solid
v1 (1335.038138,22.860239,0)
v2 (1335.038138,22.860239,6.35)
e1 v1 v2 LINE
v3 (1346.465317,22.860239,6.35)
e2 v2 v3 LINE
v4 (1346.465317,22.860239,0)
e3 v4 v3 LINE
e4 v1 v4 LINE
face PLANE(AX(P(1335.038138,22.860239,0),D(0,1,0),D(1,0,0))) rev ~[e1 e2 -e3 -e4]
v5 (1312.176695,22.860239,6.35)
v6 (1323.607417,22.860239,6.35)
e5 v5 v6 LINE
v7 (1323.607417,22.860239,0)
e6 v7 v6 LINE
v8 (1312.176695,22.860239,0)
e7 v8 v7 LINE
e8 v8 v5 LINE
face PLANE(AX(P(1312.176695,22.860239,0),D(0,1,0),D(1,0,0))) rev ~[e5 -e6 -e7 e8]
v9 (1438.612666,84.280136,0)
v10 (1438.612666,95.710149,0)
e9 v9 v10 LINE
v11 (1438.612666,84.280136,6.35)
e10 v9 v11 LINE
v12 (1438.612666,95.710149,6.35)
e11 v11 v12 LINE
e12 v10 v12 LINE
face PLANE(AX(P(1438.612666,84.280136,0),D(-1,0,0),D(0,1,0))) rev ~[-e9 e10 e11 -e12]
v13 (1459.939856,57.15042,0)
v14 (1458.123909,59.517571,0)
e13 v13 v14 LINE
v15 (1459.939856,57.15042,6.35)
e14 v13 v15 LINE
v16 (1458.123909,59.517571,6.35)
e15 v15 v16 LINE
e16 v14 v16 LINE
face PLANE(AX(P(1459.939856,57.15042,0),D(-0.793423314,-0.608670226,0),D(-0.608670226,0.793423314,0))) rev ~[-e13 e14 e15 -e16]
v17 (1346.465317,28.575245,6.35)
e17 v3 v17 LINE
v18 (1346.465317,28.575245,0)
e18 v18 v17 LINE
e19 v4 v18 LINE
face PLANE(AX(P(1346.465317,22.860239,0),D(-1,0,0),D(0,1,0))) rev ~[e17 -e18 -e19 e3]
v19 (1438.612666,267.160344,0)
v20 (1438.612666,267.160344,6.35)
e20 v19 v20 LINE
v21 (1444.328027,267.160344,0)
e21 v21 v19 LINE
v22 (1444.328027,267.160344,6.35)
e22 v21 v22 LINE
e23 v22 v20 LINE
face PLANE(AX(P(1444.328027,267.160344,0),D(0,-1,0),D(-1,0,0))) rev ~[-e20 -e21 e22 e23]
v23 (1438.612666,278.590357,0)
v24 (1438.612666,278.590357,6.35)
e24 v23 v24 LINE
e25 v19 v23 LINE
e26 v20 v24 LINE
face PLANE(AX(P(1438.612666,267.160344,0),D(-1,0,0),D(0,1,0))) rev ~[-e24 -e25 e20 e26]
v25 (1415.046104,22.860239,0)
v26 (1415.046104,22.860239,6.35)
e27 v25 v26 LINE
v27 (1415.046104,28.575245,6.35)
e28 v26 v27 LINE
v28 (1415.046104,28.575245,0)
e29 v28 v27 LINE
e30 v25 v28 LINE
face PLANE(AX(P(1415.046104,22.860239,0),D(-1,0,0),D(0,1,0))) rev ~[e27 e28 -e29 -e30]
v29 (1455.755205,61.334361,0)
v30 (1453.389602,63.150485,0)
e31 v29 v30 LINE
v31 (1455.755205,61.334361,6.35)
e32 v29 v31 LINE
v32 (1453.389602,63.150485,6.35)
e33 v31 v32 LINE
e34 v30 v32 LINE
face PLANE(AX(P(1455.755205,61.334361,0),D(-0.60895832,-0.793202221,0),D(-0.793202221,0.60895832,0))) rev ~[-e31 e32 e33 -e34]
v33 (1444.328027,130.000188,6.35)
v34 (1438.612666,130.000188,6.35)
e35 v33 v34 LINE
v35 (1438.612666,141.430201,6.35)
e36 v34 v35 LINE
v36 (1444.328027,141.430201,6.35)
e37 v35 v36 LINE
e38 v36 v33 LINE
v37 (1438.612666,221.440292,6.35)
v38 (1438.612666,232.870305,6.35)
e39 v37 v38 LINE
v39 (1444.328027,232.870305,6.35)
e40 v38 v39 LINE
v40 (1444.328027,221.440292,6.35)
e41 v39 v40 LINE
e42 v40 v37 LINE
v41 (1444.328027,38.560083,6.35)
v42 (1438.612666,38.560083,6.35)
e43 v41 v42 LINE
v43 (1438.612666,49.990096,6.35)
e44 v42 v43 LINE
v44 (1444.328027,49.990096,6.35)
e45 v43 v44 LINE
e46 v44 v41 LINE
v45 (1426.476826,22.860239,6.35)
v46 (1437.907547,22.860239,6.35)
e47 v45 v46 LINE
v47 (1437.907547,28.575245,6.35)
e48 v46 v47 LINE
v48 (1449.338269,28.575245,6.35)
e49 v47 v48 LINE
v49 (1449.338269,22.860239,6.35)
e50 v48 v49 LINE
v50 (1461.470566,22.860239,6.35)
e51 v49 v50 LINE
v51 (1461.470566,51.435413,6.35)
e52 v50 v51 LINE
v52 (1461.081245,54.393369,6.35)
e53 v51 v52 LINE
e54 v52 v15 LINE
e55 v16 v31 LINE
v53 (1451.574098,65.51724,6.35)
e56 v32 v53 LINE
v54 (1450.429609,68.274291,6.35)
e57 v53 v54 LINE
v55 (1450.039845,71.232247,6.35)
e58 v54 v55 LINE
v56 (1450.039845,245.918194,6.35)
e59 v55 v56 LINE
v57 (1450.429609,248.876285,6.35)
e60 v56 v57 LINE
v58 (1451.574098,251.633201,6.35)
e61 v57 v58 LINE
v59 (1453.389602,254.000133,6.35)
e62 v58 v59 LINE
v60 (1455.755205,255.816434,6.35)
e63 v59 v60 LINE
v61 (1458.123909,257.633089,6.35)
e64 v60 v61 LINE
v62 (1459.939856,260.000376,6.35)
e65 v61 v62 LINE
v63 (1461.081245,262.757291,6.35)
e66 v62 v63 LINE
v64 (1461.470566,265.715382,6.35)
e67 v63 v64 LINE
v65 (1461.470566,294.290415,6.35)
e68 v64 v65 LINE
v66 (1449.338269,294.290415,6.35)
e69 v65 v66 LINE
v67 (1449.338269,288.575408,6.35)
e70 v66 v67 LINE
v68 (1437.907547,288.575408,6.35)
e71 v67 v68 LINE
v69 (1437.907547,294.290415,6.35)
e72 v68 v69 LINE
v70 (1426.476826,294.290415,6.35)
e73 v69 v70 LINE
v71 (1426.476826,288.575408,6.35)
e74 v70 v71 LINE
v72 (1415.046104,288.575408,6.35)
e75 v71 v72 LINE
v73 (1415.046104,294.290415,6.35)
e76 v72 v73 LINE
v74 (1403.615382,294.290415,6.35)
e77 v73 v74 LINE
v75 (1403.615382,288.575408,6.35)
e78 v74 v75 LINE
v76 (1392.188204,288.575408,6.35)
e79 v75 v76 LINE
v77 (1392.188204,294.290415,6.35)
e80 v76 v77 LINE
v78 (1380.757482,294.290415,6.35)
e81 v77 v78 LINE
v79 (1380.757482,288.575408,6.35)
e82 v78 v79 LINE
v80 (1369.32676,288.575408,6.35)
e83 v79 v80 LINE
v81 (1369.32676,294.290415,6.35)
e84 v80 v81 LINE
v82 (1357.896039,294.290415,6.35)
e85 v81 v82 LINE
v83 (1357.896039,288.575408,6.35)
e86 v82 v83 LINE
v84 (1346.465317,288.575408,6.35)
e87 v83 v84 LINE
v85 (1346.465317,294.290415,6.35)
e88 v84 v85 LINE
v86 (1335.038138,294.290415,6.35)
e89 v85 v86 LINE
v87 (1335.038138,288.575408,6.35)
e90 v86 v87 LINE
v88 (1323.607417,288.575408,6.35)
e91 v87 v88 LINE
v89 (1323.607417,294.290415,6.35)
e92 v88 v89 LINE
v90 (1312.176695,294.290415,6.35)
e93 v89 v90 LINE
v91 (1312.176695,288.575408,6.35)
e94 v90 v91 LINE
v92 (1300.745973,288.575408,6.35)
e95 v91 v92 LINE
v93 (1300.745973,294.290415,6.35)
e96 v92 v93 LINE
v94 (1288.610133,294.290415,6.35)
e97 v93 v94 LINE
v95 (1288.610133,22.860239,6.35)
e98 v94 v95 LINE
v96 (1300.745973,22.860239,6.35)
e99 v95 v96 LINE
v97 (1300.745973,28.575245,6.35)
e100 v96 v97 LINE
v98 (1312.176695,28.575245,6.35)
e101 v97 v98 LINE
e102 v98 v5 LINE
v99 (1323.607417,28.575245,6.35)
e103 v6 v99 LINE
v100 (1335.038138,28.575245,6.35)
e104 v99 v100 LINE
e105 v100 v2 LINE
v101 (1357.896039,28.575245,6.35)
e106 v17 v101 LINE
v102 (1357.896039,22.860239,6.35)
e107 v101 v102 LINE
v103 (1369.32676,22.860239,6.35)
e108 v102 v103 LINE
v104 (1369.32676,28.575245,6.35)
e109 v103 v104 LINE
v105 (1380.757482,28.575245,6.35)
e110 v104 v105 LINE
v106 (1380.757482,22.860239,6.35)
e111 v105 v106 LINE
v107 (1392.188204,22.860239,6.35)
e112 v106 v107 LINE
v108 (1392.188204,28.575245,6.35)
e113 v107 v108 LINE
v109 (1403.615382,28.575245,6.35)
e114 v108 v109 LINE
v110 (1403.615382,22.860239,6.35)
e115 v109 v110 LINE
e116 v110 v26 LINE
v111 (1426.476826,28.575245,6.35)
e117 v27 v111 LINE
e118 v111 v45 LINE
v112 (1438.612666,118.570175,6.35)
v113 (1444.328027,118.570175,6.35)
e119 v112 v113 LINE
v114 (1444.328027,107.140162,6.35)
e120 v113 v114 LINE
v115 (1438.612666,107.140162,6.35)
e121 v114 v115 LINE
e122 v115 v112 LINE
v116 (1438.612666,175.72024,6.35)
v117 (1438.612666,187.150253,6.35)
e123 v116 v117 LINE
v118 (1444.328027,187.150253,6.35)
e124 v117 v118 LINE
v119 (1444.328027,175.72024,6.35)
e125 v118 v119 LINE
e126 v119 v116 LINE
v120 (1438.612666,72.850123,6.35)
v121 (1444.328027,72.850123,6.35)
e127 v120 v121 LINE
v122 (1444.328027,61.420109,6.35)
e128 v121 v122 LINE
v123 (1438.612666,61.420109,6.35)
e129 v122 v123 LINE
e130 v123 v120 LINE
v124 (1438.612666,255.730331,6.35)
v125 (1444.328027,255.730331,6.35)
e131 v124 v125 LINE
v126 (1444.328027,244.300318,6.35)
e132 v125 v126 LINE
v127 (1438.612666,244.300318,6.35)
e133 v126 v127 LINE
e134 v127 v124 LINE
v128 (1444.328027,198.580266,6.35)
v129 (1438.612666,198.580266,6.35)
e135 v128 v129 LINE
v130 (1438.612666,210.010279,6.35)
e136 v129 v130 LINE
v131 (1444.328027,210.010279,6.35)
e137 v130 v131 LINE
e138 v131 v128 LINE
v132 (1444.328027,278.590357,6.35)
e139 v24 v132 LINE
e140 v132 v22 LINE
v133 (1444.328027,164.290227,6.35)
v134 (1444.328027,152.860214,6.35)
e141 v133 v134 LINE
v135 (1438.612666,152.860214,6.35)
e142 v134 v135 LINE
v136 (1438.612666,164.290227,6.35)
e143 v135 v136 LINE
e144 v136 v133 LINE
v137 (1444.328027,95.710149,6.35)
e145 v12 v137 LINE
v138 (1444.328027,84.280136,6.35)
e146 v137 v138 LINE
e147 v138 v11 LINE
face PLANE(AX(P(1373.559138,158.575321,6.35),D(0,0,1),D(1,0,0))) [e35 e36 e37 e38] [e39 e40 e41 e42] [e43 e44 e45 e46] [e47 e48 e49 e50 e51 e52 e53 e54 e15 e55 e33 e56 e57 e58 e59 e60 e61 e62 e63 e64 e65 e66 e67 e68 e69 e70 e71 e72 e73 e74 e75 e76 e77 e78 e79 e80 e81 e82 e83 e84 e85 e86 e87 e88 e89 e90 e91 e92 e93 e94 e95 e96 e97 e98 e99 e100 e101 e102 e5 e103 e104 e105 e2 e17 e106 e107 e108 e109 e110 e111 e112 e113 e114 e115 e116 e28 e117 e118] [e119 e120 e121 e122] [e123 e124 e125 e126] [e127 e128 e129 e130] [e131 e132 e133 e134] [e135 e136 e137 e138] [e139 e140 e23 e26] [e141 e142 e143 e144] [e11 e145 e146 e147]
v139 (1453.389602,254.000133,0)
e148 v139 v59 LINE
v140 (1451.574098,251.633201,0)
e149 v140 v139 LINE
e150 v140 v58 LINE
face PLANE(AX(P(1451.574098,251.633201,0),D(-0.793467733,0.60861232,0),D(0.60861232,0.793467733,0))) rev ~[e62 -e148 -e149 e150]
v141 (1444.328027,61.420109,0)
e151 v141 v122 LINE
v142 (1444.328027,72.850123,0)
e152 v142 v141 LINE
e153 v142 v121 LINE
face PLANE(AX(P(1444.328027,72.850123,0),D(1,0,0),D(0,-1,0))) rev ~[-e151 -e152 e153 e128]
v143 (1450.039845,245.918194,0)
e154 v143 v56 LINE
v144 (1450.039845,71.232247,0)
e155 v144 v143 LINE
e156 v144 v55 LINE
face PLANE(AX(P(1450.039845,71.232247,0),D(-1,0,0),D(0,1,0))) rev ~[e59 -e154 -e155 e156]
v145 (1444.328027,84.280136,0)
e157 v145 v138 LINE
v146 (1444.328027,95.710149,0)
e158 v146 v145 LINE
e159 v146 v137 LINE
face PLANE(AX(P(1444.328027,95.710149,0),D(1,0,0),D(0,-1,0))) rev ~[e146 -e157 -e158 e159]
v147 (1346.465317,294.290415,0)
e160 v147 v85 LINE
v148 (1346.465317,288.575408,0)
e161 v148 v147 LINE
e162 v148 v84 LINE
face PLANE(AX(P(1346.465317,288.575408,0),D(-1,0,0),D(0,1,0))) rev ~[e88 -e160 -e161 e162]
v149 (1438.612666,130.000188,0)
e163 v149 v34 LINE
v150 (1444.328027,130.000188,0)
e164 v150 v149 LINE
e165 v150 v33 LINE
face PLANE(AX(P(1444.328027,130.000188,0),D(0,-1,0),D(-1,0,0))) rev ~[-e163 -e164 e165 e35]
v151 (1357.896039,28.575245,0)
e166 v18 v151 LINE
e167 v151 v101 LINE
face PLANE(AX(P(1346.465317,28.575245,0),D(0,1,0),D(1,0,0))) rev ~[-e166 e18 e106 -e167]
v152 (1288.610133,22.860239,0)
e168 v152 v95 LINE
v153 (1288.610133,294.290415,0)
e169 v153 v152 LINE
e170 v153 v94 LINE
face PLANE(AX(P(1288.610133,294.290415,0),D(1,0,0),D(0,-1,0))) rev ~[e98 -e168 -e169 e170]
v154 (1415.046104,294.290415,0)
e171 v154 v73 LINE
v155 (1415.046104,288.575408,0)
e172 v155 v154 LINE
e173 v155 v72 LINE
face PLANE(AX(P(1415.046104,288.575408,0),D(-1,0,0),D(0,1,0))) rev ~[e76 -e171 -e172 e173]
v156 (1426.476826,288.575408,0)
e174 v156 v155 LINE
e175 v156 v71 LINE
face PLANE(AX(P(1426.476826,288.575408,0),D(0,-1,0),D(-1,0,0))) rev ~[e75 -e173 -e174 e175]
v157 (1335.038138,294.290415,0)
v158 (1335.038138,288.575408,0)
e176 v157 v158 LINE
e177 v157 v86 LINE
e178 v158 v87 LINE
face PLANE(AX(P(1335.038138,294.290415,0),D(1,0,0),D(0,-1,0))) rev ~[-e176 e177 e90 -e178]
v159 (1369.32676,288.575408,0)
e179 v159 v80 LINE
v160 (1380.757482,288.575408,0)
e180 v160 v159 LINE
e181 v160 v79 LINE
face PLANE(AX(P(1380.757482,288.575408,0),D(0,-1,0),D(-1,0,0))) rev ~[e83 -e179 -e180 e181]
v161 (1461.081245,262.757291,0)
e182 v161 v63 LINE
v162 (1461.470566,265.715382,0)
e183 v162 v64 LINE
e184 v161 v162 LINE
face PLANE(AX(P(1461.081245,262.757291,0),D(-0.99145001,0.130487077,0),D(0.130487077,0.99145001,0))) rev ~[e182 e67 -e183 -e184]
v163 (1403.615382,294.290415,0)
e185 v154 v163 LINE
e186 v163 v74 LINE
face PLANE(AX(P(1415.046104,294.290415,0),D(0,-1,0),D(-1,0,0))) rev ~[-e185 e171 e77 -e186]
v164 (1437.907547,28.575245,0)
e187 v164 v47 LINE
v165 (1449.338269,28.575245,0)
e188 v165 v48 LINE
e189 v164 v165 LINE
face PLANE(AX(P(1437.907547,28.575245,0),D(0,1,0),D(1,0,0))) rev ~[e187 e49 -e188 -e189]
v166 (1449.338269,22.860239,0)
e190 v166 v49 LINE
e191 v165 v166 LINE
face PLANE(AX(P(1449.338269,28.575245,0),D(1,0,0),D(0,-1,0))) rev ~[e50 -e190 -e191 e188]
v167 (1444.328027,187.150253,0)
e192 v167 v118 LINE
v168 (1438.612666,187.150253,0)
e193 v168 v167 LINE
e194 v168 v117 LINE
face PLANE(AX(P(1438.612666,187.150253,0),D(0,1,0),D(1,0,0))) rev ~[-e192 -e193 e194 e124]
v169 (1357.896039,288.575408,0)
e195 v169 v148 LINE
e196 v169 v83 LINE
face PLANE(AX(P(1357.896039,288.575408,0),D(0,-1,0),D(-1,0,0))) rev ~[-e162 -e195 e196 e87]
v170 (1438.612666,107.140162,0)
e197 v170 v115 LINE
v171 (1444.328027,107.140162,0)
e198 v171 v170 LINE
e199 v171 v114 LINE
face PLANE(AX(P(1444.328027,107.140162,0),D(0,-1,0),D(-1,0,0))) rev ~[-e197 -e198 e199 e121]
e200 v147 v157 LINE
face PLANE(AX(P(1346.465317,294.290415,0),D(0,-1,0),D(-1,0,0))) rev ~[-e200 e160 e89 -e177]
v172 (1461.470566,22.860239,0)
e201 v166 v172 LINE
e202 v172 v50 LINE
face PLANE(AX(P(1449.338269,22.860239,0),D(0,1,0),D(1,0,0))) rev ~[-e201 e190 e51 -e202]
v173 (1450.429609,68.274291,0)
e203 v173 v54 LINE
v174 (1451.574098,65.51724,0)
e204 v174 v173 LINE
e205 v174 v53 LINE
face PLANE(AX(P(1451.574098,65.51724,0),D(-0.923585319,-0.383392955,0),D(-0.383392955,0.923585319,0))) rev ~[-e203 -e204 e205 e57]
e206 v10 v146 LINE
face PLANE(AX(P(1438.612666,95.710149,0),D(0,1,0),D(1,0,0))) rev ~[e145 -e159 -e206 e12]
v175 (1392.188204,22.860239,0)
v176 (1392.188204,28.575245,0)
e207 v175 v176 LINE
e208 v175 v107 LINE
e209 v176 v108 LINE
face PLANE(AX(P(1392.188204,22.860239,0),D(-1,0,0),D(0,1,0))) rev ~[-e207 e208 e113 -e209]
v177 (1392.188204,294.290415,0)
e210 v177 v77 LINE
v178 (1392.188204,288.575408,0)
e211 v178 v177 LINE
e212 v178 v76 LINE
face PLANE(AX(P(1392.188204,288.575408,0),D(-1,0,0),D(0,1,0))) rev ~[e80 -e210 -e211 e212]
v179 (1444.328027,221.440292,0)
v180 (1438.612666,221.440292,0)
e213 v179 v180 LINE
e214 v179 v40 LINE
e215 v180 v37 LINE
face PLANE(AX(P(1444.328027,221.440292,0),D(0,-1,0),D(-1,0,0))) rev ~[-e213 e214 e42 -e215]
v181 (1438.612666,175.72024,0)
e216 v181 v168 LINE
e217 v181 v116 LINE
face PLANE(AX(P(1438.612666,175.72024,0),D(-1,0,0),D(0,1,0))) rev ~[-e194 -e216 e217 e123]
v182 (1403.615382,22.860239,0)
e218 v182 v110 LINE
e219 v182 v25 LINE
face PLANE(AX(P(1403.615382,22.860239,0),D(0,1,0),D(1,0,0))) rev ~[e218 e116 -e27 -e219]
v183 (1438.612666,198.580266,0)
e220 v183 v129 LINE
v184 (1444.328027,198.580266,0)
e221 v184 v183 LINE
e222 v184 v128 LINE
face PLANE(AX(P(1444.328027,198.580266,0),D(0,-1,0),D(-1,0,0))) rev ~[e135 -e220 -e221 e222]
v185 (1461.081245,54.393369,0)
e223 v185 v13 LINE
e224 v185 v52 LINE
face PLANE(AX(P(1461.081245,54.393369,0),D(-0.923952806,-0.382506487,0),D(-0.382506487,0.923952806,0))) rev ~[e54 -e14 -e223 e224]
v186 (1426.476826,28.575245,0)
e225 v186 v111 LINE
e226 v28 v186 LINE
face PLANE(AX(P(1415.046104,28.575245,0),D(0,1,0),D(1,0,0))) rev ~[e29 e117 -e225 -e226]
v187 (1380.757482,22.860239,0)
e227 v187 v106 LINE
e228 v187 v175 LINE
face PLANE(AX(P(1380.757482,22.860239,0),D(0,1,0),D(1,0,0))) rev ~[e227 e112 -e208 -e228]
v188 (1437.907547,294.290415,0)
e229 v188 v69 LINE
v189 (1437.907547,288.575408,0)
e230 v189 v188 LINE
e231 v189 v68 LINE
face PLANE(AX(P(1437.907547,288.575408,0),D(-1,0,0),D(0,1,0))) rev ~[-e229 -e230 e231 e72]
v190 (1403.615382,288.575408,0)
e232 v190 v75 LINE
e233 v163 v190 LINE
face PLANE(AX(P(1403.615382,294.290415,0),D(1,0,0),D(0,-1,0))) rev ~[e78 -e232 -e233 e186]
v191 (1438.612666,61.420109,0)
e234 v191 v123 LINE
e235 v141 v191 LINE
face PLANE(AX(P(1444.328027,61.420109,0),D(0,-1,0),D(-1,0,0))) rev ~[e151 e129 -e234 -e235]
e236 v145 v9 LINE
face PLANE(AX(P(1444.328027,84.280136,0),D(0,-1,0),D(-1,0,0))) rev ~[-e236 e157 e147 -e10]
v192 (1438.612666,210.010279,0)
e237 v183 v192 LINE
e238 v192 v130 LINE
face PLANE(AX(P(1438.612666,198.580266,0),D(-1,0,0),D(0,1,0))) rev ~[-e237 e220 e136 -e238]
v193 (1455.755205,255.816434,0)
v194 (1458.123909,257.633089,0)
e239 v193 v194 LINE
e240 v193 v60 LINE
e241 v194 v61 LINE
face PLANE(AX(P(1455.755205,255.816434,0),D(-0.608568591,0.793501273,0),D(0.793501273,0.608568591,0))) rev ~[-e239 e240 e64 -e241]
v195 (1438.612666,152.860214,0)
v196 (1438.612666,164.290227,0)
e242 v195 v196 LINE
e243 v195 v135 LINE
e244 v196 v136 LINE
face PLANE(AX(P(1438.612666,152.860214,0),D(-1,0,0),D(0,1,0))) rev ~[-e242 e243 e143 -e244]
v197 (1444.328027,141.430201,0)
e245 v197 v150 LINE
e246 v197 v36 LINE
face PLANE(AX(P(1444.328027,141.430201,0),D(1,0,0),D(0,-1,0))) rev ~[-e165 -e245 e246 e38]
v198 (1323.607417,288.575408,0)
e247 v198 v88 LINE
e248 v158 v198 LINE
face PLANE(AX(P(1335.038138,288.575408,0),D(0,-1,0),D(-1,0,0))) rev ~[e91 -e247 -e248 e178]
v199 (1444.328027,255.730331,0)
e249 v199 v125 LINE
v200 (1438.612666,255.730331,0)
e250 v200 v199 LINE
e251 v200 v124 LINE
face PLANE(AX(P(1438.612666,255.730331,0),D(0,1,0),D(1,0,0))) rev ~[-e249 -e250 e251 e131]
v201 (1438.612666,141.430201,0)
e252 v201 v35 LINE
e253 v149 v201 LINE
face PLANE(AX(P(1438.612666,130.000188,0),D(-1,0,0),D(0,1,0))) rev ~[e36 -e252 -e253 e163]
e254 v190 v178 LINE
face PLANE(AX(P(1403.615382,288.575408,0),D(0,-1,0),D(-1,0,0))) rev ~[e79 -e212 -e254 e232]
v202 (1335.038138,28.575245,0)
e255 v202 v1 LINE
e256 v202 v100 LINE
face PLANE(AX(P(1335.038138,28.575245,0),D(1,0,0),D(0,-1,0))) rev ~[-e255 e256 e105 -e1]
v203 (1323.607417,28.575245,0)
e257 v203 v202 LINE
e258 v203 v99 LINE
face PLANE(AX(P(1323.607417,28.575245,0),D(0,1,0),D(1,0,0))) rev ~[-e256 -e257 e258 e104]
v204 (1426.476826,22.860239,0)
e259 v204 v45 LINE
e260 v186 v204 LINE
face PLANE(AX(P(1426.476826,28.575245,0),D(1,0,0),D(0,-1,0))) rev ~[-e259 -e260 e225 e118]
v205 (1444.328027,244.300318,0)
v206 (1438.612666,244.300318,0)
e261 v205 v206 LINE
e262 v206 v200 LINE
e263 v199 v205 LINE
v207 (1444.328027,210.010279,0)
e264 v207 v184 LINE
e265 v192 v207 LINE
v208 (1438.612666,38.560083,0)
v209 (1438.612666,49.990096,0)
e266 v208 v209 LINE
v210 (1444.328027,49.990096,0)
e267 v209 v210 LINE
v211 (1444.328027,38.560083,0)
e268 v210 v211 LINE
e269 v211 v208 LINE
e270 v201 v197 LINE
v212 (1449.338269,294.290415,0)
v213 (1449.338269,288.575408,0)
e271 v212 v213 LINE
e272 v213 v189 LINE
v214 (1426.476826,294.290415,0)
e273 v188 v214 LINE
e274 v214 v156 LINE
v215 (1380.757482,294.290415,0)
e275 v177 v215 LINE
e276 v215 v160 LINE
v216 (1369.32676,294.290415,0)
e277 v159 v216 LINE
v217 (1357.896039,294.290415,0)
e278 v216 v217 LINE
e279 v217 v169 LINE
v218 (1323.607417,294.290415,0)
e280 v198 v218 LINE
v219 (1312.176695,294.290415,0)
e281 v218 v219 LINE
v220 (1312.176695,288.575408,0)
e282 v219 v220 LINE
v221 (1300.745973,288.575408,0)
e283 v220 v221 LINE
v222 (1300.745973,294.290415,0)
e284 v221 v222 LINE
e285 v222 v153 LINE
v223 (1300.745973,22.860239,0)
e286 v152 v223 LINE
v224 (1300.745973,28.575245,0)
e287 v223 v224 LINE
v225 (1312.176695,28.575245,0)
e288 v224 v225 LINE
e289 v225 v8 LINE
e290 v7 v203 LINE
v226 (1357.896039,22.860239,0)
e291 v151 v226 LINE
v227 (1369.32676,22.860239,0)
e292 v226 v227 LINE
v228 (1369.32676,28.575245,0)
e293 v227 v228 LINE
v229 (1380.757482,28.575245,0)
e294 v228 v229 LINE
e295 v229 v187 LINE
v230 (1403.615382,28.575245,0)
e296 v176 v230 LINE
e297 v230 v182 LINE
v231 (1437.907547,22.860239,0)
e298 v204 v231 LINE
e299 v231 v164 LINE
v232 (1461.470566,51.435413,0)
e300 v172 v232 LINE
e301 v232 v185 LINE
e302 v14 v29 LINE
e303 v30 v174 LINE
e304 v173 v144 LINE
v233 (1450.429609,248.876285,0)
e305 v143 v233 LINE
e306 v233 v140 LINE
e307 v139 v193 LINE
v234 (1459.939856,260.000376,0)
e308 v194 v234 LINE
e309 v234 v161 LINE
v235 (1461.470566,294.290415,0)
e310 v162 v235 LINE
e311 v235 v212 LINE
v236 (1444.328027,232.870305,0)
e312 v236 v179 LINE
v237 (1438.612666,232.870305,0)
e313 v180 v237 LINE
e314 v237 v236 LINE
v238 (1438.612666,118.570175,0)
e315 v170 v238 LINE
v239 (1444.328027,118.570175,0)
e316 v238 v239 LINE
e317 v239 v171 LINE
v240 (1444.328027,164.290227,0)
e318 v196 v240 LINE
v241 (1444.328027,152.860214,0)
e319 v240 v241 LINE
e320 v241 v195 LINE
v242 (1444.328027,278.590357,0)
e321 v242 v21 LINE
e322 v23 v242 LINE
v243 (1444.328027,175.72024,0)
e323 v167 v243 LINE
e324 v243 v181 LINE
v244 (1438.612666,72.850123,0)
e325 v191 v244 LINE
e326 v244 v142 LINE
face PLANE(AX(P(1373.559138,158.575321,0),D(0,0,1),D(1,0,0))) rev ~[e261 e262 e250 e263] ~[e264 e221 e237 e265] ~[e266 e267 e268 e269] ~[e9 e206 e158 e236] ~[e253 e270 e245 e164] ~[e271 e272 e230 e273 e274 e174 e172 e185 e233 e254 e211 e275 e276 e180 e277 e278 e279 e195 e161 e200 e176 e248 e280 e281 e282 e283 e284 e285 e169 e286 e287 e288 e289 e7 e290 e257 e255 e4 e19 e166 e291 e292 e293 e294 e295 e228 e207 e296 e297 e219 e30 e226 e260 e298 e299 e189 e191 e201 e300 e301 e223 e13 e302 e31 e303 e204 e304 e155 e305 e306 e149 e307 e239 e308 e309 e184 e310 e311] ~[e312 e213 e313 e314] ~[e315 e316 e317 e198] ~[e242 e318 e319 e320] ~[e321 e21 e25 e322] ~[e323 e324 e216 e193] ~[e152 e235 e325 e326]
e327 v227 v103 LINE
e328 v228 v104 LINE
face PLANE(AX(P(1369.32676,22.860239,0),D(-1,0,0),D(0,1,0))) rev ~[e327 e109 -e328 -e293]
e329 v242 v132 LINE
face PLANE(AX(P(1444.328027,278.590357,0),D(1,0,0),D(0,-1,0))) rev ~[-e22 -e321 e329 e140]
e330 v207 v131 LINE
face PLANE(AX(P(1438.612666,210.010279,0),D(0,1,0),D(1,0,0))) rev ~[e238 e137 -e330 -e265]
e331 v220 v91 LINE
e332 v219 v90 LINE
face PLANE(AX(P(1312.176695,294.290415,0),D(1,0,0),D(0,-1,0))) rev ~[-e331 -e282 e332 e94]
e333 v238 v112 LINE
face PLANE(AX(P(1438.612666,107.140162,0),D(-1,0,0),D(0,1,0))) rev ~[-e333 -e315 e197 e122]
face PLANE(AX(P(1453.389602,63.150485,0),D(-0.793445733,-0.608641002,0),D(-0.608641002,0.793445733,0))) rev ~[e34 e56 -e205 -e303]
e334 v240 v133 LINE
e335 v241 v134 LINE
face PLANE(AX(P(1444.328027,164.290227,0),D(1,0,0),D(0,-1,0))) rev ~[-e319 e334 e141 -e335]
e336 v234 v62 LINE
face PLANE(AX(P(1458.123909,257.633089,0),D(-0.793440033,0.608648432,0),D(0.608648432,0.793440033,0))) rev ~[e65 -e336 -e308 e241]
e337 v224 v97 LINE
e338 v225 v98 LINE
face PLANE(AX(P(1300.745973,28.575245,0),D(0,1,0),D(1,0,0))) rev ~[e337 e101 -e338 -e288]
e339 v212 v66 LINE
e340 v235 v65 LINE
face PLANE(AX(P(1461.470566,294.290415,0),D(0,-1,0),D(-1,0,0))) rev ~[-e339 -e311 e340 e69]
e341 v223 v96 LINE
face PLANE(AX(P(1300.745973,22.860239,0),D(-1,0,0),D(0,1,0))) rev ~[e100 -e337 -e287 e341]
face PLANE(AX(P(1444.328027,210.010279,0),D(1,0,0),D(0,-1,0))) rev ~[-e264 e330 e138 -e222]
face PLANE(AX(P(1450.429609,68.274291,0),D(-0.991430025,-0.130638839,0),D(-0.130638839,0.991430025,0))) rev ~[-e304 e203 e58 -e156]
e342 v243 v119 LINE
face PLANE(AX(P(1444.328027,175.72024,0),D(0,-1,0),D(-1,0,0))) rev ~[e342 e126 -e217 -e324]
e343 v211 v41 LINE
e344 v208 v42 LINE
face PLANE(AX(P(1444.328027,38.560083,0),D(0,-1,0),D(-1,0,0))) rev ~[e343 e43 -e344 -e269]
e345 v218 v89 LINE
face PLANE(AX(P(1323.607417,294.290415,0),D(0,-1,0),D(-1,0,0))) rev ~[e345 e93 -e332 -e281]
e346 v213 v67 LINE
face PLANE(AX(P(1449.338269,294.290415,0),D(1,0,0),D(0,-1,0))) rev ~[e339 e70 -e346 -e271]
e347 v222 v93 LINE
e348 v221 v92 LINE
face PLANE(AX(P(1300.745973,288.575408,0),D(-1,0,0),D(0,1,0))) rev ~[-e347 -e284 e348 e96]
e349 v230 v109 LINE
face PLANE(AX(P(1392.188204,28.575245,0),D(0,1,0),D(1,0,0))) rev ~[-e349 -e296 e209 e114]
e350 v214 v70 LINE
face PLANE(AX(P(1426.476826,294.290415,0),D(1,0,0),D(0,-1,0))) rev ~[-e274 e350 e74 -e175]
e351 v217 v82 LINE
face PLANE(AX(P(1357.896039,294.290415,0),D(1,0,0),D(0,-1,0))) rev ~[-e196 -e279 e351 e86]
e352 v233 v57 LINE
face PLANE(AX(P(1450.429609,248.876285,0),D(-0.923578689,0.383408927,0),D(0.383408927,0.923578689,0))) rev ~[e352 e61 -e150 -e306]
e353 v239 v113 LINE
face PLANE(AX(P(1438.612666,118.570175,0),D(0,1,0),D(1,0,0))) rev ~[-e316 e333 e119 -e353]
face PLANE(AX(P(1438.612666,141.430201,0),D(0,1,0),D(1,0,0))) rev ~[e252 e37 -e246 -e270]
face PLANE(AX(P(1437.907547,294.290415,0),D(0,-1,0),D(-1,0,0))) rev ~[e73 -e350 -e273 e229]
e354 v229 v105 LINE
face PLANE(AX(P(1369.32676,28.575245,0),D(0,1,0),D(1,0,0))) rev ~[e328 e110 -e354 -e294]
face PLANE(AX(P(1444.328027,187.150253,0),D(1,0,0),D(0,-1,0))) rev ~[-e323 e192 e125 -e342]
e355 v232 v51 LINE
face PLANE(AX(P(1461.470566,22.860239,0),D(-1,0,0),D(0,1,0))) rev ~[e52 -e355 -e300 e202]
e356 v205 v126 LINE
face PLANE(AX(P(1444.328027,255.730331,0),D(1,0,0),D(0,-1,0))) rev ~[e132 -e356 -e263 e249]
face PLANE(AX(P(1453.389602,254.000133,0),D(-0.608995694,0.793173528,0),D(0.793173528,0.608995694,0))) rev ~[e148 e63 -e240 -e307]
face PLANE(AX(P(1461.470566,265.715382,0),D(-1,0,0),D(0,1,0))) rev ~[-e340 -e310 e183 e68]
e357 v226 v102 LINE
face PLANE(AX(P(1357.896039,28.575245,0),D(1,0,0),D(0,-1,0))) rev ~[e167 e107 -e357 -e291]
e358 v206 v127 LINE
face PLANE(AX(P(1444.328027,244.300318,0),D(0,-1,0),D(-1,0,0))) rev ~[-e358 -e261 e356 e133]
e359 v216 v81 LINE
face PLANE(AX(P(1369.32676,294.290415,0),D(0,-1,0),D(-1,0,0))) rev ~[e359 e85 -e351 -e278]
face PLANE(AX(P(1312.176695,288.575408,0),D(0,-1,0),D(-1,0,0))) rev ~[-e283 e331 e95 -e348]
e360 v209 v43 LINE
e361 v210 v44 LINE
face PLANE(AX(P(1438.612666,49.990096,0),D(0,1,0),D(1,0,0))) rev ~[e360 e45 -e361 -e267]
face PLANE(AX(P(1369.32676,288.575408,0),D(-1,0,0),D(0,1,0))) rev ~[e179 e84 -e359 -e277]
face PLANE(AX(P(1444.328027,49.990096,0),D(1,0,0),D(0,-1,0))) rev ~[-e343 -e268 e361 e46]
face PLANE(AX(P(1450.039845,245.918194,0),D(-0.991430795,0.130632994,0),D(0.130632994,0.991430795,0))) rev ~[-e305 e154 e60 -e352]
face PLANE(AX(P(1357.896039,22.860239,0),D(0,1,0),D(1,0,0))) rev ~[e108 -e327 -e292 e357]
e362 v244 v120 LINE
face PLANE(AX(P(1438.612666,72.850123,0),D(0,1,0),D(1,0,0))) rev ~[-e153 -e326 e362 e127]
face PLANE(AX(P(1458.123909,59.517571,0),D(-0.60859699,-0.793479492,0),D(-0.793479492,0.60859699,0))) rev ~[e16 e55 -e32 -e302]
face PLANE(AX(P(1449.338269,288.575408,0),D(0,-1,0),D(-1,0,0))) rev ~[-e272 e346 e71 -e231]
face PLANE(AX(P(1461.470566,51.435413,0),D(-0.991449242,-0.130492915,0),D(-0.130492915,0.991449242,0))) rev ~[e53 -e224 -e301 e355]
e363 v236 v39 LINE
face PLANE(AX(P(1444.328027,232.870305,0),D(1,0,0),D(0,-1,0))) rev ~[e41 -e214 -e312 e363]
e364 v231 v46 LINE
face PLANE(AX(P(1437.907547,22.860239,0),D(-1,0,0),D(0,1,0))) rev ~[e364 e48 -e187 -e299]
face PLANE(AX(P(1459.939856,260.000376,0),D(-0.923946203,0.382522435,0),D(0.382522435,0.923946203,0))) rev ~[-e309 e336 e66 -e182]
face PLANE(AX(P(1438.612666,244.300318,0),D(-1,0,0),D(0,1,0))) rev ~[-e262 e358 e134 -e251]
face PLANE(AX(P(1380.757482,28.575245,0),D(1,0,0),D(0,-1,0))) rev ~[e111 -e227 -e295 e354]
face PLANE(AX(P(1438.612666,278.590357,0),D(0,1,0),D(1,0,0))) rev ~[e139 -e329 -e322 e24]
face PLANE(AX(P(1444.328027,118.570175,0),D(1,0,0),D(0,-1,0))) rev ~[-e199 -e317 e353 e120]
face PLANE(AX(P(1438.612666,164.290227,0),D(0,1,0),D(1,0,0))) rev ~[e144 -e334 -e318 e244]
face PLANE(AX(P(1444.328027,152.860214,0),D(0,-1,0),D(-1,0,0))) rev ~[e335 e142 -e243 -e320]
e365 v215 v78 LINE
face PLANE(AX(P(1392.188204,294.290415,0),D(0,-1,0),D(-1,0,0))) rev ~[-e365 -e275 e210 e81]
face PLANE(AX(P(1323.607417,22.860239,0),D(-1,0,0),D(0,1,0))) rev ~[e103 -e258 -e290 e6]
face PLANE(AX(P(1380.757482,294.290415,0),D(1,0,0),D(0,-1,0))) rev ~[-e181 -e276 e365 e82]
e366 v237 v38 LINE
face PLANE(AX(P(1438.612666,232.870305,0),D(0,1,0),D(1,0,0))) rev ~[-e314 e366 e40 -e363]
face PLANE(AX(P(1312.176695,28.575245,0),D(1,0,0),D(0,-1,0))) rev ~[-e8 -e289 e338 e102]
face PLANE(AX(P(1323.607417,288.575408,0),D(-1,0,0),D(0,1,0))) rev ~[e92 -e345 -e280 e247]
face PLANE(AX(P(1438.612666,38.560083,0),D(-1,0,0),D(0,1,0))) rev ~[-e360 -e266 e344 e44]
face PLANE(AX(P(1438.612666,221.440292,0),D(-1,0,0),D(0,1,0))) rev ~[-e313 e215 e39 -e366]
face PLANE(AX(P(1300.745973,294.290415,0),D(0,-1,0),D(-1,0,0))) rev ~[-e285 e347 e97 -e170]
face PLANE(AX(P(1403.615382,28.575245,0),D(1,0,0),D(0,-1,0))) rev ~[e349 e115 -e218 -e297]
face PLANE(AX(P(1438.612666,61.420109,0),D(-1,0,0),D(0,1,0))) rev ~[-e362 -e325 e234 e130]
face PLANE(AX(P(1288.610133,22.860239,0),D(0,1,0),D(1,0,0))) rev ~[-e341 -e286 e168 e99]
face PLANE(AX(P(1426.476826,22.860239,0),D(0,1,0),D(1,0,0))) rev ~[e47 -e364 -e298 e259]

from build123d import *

# Parameters (mm, degrees)
BOSS_EXTRUDE1_DEPTH = 6.35


with BuildPart() as part:
    # Model → Boss-Extrude1 (new body)
    with BuildSketch(Plane.XY):
        Polygon((1288.610132665, 22.860238699), (1300.745973293, 22.860238699), (1300.745973293, 28.575245224), (1312.176695005, 28.575245224), (1312.176695005, 22.860238699), (1323.607416717, 22.860238699), (1323.607416717, 28.575245224), (1335.038138429, 28.575245224), (1335.038138429, 22.860238699), (1346.46531683, 22.860238699), (1346.46531683, 28.575245224), (1357.896038543, 28.575245224), (1357.896038543, 22.860238699), (1369.326760255, 22.860238699), (1369.326760255, 28.575245224), (1380.757481967, 28.575245224), (1380.757481967, 22.860238699), (1392.188203679, 22.860238699), (1392.188203679, 28.575245224), (1403.615382081, 28.575245224), (1403.615382081, 22.860238699), (1415.046103793, 22.860238699), (1415.046103793, 28.575245224), (1426.476825505, 28.575245224), (1426.476825505, 22.860238699), (1437.907547217, 22.860238699), (1437.907547217, 28.575245224), (1449.33826893, 28.575245224), (1449.33826893, 22.860238699), (1461.470566246, 22.860238699), (1461.470566246, 28.575245224), (1461.470566246, 51.435413056), (1461.081244935, 54.393369189), (1459.939855837, 57.150419581), (1458.123908882, 59.517571103), (1455.75520539, 61.334361366), (1453.389602295, 63.150485487), (1451.574098254, 65.517240157), (1450.429608758, 68.274290549), (1450.039844534, 71.232246682), (1450.039844534, 245.918194159), (1450.429608758, 248.876284937), (1451.574098254, 251.633200684), (1453.389602295, 254.00013252), (1455.75520539, 255.816433806), (1458.123908882, 257.633089424), (1459.939855837, 260.000375591), (1461.081244935, 262.757291337), (1461.470566246, 265.715382116), (1461.470566246, 288.575408216), (1461.470566246, 294.290414741), (1449.33826893, 294.290414741), (1449.33826893, 288.575408216), (1437.907547217, 288.575408216), (1437.907547217, 294.290414741), (1426.476825505, 294.290414741), (1426.476825505, 288.575408216), (1415.046103793, 288.575408216), (1415.046103793, 294.290414741), (1403.615382081, 294.290414741), (1403.615382081, 288.575408216), (1392.188203679, 288.575408216), (1392.188203679, 294.290414741), (1380.757481967, 294.290414741), (1380.757481967, 288.575408216), (1369.326760255, 288.575408216), (1369.326760255, 294.290414741), (1357.896038543, 294.290414741), (1357.896038543, 288.575408216), (1346.46531683, 288.575408216), (1346.46531683, 294.290414741), (1335.038138429, 294.290414741), (1335.038138429, 288.575408216), (1323.607416717, 288.575408216), (1323.607416717, 294.290414741), (1312.176695005, 294.290414741), (1312.176695005, 288.575408216), (1300.745973293, 288.575408216), (1300.745973293, 294.290414741), (1288.610132665, 294.290414741), (1288.610132665, 288.575408216), (1288.610132665, 28.575245224), align=None)
        Polygon((1444.328026989, 44.27508992), (1444.328026989, 38.560083395), (1438.612666133, 38.560083395), (1438.612666133, 49.990096445), (1444.328026989, 49.990096445), align=None, mode=Mode.SUBTRACT)
        Polygon((1444.328026989, 67.13511602), (1444.328026989, 61.420109495), (1438.612666133, 61.420109495), (1438.612666133, 72.850122545), (1444.328026989, 72.850122545), align=None, mode=Mode.SUBTRACT)
        Polygon((1444.328026989, 89.99514212), (1444.328026989, 84.280135595), (1438.612666133, 84.280135595), (1438.612666133, 95.710148645), (1444.328026989, 95.710148645), align=None, mode=Mode.SUBTRACT)
        Polygon((1444.328026989, 112.85516822), (1444.328026989, 107.140161695), (1438.612666133, 107.140161695), (1438.612666133, 118.570174745), (1444.328026989, 118.570174745), align=None, mode=Mode.SUBTRACT)
        Polygon((1444.328026989, 135.71519432), (1444.328026989, 130.000187795), (1438.612666133, 130.000187795), (1438.612666133, 141.430200846), (1444.328026989, 141.430200846), align=None, mode=Mode.SUBTRACT)
        Polygon((1444.328026989, 158.575220421), (1444.328026989, 152.860213896), (1438.612666133, 152.860213896), (1438.612666133, 164.290226946), (1444.328026989, 164.290226946), align=None, mode=Mode.SUBTRACT)
        Polygon((1444.328026989, 181.435246521), (1444.328026989, 175.720239996), (1438.612666133, 175.720239996), (1438.612666133, 187.150253046), (1444.328026989, 187.150253046), align=None, mode=Mode.SUBTRACT)
        Polygon((1444.328026989, 204.295272621), (1444.328026989, 198.580266096), (1438.612666133, 198.580266096), (1438.612666133, 210.010279146), (1444.328026989, 210.010279146), align=None, mode=Mode.SUBTRACT)
        Polygon((1444.328026989, 227.155298721), (1444.328026989, 221.440292196), (1438.612666133, 221.440292196), (1438.612666133, 232.870305246), (1444.328026989, 232.870305246), align=None, mode=Mode.SUBTRACT)
        Polygon((1444.328026989, 250.015324821), (1444.328026989, 244.300318296), (1438.612666133, 244.300318296), (1438.612666133, 255.730331346), (1444.328026989, 255.730331346), align=None, mode=Mode.SUBTRACT)
        Polygon((1444.328026989, 272.875350921), (1444.328026989, 267.160344396), (1438.612666133, 267.160344396), (1438.612666133, 278.590357446), (1444.328026989, 278.590357446), align=None, mode=Mode.SUBTRACT)
    extrude(amount=BOSS_EXTRUDE1_DEPTH)


solid = part.part
